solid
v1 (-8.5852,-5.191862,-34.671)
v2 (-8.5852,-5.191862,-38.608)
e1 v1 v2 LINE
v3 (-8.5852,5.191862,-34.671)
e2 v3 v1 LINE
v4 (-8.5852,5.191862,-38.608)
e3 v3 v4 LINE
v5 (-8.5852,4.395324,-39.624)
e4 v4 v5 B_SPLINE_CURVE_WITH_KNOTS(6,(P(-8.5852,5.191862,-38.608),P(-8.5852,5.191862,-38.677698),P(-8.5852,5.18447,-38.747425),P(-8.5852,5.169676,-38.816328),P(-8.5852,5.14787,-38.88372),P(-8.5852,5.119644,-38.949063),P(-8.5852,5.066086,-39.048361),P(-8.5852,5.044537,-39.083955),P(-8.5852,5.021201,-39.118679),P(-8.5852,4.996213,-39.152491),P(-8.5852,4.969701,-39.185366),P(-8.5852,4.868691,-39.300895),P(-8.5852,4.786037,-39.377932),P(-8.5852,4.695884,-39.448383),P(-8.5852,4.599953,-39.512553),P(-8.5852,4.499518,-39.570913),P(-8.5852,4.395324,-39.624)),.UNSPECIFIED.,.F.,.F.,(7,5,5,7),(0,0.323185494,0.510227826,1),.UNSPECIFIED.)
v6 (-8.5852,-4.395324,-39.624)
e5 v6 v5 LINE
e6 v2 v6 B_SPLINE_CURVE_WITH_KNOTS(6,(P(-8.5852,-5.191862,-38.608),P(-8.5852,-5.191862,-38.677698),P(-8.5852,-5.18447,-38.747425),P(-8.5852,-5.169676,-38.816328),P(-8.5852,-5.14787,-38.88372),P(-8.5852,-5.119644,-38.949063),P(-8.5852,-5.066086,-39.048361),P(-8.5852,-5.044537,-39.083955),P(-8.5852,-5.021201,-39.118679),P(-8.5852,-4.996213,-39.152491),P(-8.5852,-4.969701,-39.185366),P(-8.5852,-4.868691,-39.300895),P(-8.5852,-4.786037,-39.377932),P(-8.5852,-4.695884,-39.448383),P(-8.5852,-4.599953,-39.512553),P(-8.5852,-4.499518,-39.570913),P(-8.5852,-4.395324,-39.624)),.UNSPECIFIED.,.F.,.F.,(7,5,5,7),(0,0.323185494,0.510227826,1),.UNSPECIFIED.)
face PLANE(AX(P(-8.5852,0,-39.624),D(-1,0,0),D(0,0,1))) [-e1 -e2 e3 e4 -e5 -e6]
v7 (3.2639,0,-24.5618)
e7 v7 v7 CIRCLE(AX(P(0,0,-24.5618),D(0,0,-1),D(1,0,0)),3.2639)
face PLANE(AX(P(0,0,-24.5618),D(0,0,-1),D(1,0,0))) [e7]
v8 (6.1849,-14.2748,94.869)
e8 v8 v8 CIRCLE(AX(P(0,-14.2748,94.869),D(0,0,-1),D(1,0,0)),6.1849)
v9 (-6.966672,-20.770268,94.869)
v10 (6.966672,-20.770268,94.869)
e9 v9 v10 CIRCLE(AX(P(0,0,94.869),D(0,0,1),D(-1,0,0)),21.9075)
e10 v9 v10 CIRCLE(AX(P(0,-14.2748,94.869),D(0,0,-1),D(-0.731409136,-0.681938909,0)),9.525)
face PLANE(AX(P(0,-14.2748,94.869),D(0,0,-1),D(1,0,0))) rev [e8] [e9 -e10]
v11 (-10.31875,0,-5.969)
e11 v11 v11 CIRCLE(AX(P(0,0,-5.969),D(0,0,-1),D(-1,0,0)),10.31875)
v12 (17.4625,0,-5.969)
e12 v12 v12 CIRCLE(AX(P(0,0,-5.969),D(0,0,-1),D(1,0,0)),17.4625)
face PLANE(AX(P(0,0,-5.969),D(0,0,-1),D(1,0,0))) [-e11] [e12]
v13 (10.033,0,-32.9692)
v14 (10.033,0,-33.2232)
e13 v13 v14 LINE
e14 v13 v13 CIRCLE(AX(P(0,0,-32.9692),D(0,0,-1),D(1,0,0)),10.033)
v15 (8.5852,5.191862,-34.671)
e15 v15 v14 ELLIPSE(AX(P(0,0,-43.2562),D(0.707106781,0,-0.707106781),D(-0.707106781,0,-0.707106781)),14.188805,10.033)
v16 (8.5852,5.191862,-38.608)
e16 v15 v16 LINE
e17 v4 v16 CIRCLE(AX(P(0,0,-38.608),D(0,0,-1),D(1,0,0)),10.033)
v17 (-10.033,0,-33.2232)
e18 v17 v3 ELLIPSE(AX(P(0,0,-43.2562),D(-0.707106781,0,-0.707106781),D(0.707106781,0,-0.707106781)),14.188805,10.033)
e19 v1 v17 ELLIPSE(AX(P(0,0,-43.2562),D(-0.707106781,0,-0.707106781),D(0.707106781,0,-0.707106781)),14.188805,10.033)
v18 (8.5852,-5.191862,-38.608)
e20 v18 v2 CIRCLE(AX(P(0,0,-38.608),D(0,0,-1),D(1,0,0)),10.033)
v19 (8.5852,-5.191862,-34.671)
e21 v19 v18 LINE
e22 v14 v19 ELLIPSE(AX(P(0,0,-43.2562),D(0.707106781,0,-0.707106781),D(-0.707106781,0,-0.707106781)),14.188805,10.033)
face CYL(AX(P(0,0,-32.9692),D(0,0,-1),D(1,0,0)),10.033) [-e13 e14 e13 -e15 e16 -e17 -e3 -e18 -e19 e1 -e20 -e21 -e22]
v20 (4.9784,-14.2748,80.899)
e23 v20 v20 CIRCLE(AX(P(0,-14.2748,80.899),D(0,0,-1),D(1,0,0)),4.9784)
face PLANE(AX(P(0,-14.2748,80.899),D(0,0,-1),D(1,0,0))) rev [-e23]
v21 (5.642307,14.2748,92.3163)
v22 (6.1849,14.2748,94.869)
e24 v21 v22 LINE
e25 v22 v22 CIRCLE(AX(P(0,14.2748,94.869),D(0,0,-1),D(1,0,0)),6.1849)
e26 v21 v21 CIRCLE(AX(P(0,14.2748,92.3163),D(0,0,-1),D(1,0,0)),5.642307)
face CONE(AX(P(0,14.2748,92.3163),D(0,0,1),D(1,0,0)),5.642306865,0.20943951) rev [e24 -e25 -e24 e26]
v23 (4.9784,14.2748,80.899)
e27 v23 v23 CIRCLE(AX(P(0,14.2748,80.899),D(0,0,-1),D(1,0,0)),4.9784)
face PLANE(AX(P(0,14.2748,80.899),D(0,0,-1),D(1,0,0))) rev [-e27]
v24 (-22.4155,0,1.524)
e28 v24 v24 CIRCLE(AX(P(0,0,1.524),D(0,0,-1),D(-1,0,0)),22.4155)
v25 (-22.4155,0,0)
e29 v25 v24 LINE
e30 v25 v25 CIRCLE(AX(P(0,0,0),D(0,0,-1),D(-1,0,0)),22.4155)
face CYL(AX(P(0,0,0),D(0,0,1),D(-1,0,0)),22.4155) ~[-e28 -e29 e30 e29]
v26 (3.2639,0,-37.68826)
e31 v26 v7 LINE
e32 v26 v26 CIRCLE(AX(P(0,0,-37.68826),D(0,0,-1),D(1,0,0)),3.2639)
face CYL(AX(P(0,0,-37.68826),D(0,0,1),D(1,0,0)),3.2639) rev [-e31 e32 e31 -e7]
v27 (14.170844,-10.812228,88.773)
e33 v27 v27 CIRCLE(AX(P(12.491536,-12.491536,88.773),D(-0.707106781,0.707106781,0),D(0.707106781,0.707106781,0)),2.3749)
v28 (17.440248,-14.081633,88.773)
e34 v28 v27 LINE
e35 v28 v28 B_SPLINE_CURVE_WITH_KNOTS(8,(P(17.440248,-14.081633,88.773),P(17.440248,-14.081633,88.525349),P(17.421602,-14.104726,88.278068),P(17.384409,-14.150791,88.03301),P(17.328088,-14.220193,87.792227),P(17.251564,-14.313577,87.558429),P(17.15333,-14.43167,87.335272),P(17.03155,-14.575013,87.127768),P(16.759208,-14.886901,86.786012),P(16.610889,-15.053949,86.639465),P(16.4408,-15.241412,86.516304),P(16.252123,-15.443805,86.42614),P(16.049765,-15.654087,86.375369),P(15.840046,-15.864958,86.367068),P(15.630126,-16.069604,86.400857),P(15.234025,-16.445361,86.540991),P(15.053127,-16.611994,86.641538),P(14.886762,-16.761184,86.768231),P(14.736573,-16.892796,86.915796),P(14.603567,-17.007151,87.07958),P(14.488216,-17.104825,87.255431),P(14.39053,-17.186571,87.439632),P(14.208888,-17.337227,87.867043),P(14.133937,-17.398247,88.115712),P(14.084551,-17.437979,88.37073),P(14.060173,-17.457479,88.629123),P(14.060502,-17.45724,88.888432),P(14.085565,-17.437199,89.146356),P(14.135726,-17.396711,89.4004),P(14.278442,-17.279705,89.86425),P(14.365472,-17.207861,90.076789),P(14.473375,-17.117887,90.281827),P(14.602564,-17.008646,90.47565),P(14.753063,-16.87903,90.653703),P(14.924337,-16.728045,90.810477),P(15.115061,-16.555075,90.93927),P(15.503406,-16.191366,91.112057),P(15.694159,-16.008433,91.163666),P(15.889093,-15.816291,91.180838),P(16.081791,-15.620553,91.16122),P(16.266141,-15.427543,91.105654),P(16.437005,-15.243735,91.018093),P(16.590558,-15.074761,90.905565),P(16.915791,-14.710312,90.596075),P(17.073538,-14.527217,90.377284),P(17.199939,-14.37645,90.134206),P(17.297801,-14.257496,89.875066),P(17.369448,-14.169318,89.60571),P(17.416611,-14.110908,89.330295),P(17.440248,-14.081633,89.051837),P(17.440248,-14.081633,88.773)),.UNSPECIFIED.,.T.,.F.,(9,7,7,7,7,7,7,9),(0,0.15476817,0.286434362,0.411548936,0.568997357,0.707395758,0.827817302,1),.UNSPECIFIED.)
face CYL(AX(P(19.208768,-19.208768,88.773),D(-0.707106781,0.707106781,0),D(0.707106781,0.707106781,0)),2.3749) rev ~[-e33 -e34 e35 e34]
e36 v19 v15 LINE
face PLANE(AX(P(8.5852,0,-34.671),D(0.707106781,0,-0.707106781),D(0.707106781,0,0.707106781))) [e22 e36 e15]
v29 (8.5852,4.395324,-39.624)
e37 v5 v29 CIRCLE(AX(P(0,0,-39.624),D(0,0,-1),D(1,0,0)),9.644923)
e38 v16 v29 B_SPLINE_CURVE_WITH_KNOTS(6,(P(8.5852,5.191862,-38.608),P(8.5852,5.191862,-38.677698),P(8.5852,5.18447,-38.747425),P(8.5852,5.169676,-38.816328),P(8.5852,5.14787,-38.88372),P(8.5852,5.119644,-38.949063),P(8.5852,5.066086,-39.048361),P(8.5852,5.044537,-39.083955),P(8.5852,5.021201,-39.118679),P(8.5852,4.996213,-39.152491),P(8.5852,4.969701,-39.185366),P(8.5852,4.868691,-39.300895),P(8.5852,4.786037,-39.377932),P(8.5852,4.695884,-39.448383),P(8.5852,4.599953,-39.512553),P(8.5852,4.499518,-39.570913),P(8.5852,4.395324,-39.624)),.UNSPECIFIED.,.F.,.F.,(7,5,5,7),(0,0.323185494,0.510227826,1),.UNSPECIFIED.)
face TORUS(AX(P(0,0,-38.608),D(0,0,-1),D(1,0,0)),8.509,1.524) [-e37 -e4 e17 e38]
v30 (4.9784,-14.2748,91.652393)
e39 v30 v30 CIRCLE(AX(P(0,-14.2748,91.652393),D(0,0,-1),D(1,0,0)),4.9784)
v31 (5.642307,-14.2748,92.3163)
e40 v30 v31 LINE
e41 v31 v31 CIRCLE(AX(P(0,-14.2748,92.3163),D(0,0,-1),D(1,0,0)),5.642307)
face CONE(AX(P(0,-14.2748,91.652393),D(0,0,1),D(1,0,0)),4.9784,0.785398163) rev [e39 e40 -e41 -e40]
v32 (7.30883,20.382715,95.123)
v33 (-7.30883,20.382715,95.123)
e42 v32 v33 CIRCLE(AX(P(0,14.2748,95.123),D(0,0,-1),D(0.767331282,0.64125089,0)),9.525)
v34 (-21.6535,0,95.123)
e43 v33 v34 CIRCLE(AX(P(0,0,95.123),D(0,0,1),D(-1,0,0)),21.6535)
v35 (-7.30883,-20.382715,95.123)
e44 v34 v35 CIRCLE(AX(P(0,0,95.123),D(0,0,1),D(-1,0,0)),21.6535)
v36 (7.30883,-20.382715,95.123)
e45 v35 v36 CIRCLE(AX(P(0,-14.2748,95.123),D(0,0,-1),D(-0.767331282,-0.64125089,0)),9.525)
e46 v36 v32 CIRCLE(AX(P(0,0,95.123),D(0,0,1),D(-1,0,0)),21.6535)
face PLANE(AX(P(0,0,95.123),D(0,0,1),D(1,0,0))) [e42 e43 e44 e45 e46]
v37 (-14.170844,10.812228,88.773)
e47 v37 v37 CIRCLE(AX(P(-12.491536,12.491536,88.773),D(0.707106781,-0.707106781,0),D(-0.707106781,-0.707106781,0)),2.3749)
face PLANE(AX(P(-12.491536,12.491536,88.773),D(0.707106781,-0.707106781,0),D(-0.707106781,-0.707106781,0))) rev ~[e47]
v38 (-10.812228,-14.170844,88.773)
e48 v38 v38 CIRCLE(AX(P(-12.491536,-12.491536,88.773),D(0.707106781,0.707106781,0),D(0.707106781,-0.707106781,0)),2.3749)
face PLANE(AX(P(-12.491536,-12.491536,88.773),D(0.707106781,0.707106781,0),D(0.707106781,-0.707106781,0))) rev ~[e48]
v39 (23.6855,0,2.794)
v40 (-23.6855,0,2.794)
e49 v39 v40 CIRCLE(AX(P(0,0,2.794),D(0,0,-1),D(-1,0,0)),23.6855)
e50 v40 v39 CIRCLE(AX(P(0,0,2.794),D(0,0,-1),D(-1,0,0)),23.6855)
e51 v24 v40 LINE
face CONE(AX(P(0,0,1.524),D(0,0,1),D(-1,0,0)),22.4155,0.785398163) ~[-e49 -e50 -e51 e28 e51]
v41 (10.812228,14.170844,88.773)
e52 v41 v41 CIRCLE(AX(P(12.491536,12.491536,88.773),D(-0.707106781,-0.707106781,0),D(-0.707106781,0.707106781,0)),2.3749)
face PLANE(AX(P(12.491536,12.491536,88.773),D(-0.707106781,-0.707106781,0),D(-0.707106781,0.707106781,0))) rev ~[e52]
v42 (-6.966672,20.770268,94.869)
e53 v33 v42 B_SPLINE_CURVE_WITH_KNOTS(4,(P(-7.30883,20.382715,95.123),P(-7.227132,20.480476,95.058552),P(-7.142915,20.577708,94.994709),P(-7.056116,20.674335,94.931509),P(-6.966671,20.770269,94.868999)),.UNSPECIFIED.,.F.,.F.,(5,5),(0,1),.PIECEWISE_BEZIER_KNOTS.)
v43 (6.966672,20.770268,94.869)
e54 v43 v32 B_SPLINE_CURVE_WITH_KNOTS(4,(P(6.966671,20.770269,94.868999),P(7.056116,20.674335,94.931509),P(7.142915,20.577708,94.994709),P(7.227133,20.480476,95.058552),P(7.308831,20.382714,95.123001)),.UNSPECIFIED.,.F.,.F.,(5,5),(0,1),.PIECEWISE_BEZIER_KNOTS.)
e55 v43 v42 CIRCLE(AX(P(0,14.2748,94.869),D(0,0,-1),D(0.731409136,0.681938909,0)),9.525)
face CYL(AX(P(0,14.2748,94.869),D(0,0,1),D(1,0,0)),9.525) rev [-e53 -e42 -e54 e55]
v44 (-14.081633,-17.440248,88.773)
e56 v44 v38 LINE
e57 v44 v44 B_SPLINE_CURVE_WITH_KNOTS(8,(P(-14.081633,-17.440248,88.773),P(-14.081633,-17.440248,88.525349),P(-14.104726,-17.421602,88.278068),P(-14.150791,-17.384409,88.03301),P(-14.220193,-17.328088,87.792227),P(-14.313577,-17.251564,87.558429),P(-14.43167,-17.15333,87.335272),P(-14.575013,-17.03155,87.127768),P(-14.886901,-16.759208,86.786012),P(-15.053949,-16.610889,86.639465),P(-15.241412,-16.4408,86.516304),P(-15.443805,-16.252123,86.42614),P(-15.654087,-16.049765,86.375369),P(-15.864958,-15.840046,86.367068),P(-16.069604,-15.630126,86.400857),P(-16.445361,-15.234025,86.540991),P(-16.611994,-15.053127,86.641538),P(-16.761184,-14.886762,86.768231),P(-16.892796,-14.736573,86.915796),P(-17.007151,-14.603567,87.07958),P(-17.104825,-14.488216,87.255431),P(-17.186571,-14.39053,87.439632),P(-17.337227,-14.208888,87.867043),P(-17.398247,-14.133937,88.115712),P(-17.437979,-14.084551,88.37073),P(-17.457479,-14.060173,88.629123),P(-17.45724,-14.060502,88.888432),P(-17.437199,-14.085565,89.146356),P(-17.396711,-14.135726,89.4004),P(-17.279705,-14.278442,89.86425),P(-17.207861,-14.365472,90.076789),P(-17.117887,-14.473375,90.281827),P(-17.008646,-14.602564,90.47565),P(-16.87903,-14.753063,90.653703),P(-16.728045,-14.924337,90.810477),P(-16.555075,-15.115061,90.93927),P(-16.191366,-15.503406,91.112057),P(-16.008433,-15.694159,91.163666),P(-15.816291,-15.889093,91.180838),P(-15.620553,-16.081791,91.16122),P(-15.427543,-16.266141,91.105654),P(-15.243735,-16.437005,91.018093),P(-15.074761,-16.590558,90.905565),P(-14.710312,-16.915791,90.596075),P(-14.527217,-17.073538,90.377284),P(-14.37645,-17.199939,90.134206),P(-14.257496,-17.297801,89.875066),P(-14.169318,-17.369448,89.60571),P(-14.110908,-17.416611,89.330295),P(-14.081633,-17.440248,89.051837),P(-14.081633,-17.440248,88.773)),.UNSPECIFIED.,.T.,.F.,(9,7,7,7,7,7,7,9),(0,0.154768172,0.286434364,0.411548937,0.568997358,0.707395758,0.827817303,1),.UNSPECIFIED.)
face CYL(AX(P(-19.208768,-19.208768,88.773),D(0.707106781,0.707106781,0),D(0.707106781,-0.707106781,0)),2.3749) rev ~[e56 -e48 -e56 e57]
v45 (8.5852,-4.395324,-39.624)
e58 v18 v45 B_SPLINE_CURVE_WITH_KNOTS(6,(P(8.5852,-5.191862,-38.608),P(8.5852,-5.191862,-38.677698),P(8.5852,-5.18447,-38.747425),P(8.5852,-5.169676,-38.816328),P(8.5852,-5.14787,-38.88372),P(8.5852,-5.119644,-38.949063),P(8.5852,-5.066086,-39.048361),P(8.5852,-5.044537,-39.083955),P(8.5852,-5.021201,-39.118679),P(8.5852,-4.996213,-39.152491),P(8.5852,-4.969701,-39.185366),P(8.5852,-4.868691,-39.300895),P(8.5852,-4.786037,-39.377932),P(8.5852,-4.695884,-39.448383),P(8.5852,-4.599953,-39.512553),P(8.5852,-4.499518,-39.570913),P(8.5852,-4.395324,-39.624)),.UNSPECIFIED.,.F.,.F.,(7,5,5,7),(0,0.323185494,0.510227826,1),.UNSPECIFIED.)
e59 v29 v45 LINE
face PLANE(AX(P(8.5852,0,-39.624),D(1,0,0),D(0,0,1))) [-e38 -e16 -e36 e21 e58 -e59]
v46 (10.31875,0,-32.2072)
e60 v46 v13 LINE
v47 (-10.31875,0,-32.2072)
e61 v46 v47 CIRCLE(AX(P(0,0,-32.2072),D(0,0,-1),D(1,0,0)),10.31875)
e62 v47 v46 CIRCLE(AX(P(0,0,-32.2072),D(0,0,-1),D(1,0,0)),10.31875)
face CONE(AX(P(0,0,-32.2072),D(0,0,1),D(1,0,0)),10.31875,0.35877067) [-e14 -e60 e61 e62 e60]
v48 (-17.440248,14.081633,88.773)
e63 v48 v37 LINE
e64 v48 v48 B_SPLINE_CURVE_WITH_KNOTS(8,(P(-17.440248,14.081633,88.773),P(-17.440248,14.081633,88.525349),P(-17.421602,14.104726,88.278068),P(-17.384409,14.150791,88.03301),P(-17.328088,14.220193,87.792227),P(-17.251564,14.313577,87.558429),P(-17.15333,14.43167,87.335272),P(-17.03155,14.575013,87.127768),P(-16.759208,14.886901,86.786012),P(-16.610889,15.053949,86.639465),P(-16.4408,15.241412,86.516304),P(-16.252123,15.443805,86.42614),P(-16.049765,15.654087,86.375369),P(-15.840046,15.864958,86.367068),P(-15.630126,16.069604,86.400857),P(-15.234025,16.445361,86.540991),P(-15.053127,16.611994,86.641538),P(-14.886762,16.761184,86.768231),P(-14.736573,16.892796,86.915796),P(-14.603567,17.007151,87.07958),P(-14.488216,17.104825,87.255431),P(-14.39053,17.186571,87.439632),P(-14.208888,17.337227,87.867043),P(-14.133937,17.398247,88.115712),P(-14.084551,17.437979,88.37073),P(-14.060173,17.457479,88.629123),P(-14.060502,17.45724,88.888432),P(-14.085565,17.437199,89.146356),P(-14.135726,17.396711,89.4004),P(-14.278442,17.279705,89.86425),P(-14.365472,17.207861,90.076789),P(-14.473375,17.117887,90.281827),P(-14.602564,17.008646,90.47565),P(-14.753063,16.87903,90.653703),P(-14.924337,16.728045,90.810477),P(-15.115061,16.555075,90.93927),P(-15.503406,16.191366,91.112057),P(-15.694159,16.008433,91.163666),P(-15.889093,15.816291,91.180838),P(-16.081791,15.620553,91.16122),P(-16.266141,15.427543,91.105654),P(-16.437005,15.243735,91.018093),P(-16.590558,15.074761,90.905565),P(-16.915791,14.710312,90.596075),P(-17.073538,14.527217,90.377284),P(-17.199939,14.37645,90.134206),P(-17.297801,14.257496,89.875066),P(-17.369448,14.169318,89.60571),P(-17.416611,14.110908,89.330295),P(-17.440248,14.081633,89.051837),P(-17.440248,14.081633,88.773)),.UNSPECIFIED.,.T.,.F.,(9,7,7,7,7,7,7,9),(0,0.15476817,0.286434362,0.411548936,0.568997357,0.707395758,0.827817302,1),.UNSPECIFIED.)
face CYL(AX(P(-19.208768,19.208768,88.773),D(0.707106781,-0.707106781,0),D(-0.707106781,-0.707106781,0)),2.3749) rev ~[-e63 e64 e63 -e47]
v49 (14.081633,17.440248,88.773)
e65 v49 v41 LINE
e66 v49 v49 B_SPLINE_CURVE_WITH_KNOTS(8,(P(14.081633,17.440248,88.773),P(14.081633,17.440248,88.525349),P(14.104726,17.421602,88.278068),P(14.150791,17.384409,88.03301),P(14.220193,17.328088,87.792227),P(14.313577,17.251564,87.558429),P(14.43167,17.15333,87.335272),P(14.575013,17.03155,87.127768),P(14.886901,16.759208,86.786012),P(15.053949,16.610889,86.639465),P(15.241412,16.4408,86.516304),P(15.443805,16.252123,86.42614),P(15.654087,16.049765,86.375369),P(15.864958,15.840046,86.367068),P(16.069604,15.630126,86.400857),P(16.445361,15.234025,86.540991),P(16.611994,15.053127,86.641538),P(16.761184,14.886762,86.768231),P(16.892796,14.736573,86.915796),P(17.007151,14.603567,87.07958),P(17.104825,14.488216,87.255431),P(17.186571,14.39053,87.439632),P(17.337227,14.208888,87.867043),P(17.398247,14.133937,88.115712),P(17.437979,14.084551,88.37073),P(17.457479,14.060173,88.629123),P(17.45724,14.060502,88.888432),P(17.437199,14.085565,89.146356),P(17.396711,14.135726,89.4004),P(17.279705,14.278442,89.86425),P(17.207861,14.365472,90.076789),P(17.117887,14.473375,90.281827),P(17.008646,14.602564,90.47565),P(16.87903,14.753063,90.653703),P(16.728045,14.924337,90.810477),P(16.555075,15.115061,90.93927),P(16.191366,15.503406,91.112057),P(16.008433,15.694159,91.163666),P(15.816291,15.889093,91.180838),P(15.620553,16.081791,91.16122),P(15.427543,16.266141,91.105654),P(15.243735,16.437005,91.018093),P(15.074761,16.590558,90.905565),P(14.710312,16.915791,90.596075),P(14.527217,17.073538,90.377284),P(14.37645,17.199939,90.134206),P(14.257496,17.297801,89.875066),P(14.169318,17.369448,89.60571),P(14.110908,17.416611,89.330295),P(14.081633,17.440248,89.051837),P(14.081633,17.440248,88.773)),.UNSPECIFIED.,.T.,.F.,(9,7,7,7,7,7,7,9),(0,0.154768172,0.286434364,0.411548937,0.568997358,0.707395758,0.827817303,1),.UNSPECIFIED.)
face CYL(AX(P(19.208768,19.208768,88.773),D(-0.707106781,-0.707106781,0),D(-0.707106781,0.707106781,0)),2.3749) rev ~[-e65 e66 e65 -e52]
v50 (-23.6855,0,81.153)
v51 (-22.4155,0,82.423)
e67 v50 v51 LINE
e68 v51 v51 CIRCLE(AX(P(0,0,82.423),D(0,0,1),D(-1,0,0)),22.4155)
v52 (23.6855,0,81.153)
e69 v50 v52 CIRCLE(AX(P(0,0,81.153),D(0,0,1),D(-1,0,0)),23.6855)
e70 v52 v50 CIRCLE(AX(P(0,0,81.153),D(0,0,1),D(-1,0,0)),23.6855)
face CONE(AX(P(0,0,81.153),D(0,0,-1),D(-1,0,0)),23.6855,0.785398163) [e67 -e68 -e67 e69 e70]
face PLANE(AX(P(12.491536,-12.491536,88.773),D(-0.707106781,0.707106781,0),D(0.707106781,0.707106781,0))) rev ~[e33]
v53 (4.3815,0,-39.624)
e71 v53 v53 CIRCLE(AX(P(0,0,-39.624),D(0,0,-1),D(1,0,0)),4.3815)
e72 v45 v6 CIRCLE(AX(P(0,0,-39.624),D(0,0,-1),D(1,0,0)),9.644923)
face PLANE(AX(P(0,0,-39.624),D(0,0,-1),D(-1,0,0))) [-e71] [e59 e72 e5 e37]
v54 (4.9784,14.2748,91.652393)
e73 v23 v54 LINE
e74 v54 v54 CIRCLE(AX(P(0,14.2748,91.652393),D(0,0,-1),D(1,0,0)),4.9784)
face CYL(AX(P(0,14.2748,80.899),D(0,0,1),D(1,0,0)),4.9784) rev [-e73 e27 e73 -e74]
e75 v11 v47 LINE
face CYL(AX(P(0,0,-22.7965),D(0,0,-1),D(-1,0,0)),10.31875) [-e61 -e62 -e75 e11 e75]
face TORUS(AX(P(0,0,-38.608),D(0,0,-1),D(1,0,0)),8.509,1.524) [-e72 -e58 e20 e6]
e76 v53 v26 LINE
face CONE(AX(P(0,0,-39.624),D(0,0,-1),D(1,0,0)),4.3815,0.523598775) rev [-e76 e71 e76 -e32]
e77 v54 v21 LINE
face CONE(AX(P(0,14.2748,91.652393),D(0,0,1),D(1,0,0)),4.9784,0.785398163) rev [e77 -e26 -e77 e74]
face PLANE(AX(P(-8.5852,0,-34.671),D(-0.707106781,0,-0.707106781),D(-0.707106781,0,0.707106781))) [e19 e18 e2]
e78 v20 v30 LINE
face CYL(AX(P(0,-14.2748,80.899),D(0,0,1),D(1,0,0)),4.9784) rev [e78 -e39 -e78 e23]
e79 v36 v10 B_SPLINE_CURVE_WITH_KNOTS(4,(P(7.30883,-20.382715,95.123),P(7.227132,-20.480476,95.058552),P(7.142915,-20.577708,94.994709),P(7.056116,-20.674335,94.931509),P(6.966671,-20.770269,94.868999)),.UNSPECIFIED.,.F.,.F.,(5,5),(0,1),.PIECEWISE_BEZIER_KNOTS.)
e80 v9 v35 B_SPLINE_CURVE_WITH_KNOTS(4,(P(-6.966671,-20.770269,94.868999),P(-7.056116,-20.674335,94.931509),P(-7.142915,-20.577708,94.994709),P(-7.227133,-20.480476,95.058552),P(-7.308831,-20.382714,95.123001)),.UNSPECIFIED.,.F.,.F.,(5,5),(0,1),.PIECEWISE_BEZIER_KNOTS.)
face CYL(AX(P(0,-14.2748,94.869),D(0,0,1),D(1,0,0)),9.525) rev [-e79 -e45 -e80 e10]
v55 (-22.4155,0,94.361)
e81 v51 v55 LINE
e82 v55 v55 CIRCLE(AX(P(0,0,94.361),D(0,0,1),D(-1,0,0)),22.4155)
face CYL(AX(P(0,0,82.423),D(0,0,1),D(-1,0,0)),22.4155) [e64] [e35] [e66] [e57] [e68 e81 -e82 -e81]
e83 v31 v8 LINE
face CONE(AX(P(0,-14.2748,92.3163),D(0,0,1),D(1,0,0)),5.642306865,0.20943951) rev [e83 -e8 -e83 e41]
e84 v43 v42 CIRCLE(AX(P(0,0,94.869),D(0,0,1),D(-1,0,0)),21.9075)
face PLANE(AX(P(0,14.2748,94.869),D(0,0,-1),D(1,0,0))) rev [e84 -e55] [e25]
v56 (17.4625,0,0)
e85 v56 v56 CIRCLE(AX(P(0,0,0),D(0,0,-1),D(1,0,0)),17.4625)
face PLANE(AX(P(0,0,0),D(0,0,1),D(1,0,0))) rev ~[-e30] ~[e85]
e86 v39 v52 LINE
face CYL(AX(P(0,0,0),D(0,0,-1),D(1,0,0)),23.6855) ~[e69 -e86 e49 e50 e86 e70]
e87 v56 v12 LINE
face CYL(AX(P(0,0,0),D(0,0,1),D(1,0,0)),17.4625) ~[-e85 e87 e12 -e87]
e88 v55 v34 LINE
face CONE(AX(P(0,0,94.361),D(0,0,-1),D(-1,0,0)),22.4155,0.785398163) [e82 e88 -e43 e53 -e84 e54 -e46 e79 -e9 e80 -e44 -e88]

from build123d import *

# Parameters (mm, degrees)
SKETCH1_R          = 23.6855
EXTRUDE1_DEPTH     = 95.123
CHAMFER1_SIZE      = 0.762
SKETCH6_R          = 17.4625
EXTRUDE2_DEPTH     = 5.969
SKETCH7_W          = 33.655
SKETCH7_H          = 10.31875
CUT_EXTRUDE4_DEPTH = 19.84248
HOLE1_D            = 4.7498
HOLE1_DEPTH        = 4.7498
CIRPATTERN1_COUNT  = 4
LPATTERN1_COUNT    = 2
LPATTERN1_PITCH    = 28.5496


with BuildPart() as part:
    # Sketch1 → Extrude1 (new body)
    with BuildSketch(Plane.XY):
        Circle(SKETCH1_R)
    extrude(amount=EXTRUDE1_DEPTH)

    # Sketch2 → Cut-Revolve1 (revolve, cut)
    with BuildSketch(Plane(origin=(0, 0, 0), x_dir=(1, 0, 0), z_dir=(0, 1, 0)), mode=Mode.PRIVATE) as cut_revolve1_sk:
        Polygon((23.6855, -95.123), (23.6855, -81.153), (22.4155, -82.423), (22.4155, -95.123), align=None)
    revolve(cut_revolve1_sk.sketch.rotate(Axis((0, 0, 0), (0, 0, 1)), 180), axis=Axis((0, 0, 0), (0, 0, 1)), mode=Mode.SUBTRACT)  # turned: the seam where the file's is

    # Sketch3 → Cut-Revolve2 (revolve, cut)
    with BuildSketch(Plane(origin=(0, 0, 0), x_dir=(1, 0, 0), z_dir=(0, 1, 0)), mode=Mode.PRIVATE) as cut_revolve2_sk:
        Polygon((22.4155, 0), (22.4155, -1.524), (23.6855, -2.794), (23.6855, 0), align=None)
    revolve(cut_revolve2_sk.sketch.rotate(Axis((0, 0, 0), (0, 0, -1)), 180), axis=Axis((0, 0, 0), (0, 0, -1)), mode=Mode.SUBTRACT)  # turned: the seam where the file's is

    # Chamfer1
    chamfer1_edges = [part.edges().sort_by_distance(p)[0] for p in [
        (22.4155, 0, 95.123),
    ]]
    chamfer(chamfer1_edges, length=CHAMFER1_SIZE)

    # S2D0002 → Cut-Revolve3 (revolve, cut)
    with BuildSketch(Plane(origin=(0, 0, 0), x_dir=(0, -1, 0), z_dir=(1, 0, 0)), mode=Mode.PRIVATE) as cut_revolve3_sk:
        Polygon((20.4597, -94.869), (23.7998, -94.869), (23.7998, -95.123), (14.2748, -95.123), (14.2748, -80.899), (19.2532, -80.899), (19.2532, -91.652393135), (19.917106865, -92.3163), align=None)
    cut_revolve3 = revolve(cut_revolve3_sk.sketch.rotate(Axis((0, -14.2748, 14.6685), (0, 0, -1)), 270), axis=Axis((0, -14.2748, 14.6685), (0, 0, -1)), mode=Mode.SUBTRACT)  # turned: the seam where the file's is

    # Sketch6 → Extrude2 (add)
    with BuildSketch(Plane(origin=(0, 0, 0), x_dir=(-1, 0, 0), z_dir=(0, 0, -1))):
        with Locations(Location((0, 0, 0), (0, 0, 180))):  # turned: the seam where the file's is
            Circle(SKETCH6_R)
    extrude(amount=EXTRUDE2_DEPTH)

    # Sketch7 → Revolve1 (revolve)
    with BuildSketch(Plane(origin=(0, 0, 0), x_dir=(0, 0, -1), z_dir=(1, 0, 0)), mode=Mode.PRIVATE) as revolve1_sk:
        with Locations((22.7965, -5.159375)):
            Rectangle(SKETCH7_W, SKETCH7_H)
    revolve(revolve1_sk.sketch.rotate(Axis((0, 0, 0), (0, 0, -1)), 90), axis=Axis((0, 0, 0), (0, 0, -1)))  # turned: the seam where the file's is

    # S2D0001 → Cut-Revolve5 (revolve, cut)
    with BuildSketch(Plane(origin=(0, 0, 0), x_dir=(1, 0, 0), z_dir=(0, 1, 0))):
        Polygon((3.2639, 37.688260017), (3.2639, 24.5618), (0, 24.5618), (0, 39.624), (4.3815, 39.624), align=None)
    revolve(axis=Axis((0, 0, 31.308359971), (0, 0, -1)), mode=Mode.SUBTRACT)

    # Sketch9 → Cut-Revolve6 (revolve, cut)
    with BuildSketch(Plane(origin=(0, 0, 0), x_dir=(0, -1, 0), z_dir=(1, 0, 0)), mode=Mode.PRIVATE) as cut_revolve6_sk:
        with BuildLine():
            Line((-10.31875, 32.2072), (-10.033, 32.9692))
            Line((-10.033, 32.9692), (-10.033, 38.608))
            ThreePointArc((-10.033, 38.608), (-9.932678675, 39.151796865), (-9.644922533, 39.624))
            Line((-9.644922533, 39.624), (-10.31875, 39.624))
            Line((-10.31875, 39.624), (-10.31875, 32.2072))
        make_face()
    revolve(cut_revolve6_sk.sketch.rotate(Axis((0, 0, -12.65936), (0, 0, -1)), 90), axis=Axis((0, 0, -12.65936), (0, 0, -1)), mode=Mode.SUBTRACT)  # turned: the seam where the file's is

    # Sketch13 → Cut-Extrude4 (cut, symmetric)
    with BuildSketch(Plane(origin=(0, 0, 0), x_dir=(1, 0, 0), z_dir=(0, 1, 0))):
        Polygon((8.5852, 39.624), (8.5852, 34.671), (10.033, 33.2232), (10.033, 39.624), align=None)
        Polygon((-8.5852, 39.624), (-8.5852, 34.671), (-10.033, 33.2232), (-10.033, 39.624), align=None)
    extrude(amount=CUT_EXTRUDE4_DEPTH, both=True, mode=Mode.SUBTRACT)

    # Hole1
    with Locations(Plane(origin=(-15.850152054, 15.850152054, 88.773), x_dir=(0.707106781, 0.707106781, 0), z_dir=(-0.707106781, 0.707106781, 0))):
        with Locations((0, 0)):
            hole1 = Hole(HOLE1_D / 2, depth=HOLE1_DEPTH)

    # CirPattern1: Hole1 ×4 about axis
    cirpattern1_axis = Axis((0, 0, 0), (0, 0, 1))
    for i in range(1, CIRPATTERN1_COUNT):
        add(hole1.rotate(cirpattern1_axis, i * 360 / CIRPATTERN1_COUNT), mode=Mode.SUBTRACT)

    # LPattern1: Cut-Revolve3 ×2
    with Locations(*[(0, i * LPATTERN1_PITCH, 0) for i in range(1, LPATTERN1_COUNT)]):
        add(cut_revolve3, mode=Mode.SUBTRACT)


solid = part.part
